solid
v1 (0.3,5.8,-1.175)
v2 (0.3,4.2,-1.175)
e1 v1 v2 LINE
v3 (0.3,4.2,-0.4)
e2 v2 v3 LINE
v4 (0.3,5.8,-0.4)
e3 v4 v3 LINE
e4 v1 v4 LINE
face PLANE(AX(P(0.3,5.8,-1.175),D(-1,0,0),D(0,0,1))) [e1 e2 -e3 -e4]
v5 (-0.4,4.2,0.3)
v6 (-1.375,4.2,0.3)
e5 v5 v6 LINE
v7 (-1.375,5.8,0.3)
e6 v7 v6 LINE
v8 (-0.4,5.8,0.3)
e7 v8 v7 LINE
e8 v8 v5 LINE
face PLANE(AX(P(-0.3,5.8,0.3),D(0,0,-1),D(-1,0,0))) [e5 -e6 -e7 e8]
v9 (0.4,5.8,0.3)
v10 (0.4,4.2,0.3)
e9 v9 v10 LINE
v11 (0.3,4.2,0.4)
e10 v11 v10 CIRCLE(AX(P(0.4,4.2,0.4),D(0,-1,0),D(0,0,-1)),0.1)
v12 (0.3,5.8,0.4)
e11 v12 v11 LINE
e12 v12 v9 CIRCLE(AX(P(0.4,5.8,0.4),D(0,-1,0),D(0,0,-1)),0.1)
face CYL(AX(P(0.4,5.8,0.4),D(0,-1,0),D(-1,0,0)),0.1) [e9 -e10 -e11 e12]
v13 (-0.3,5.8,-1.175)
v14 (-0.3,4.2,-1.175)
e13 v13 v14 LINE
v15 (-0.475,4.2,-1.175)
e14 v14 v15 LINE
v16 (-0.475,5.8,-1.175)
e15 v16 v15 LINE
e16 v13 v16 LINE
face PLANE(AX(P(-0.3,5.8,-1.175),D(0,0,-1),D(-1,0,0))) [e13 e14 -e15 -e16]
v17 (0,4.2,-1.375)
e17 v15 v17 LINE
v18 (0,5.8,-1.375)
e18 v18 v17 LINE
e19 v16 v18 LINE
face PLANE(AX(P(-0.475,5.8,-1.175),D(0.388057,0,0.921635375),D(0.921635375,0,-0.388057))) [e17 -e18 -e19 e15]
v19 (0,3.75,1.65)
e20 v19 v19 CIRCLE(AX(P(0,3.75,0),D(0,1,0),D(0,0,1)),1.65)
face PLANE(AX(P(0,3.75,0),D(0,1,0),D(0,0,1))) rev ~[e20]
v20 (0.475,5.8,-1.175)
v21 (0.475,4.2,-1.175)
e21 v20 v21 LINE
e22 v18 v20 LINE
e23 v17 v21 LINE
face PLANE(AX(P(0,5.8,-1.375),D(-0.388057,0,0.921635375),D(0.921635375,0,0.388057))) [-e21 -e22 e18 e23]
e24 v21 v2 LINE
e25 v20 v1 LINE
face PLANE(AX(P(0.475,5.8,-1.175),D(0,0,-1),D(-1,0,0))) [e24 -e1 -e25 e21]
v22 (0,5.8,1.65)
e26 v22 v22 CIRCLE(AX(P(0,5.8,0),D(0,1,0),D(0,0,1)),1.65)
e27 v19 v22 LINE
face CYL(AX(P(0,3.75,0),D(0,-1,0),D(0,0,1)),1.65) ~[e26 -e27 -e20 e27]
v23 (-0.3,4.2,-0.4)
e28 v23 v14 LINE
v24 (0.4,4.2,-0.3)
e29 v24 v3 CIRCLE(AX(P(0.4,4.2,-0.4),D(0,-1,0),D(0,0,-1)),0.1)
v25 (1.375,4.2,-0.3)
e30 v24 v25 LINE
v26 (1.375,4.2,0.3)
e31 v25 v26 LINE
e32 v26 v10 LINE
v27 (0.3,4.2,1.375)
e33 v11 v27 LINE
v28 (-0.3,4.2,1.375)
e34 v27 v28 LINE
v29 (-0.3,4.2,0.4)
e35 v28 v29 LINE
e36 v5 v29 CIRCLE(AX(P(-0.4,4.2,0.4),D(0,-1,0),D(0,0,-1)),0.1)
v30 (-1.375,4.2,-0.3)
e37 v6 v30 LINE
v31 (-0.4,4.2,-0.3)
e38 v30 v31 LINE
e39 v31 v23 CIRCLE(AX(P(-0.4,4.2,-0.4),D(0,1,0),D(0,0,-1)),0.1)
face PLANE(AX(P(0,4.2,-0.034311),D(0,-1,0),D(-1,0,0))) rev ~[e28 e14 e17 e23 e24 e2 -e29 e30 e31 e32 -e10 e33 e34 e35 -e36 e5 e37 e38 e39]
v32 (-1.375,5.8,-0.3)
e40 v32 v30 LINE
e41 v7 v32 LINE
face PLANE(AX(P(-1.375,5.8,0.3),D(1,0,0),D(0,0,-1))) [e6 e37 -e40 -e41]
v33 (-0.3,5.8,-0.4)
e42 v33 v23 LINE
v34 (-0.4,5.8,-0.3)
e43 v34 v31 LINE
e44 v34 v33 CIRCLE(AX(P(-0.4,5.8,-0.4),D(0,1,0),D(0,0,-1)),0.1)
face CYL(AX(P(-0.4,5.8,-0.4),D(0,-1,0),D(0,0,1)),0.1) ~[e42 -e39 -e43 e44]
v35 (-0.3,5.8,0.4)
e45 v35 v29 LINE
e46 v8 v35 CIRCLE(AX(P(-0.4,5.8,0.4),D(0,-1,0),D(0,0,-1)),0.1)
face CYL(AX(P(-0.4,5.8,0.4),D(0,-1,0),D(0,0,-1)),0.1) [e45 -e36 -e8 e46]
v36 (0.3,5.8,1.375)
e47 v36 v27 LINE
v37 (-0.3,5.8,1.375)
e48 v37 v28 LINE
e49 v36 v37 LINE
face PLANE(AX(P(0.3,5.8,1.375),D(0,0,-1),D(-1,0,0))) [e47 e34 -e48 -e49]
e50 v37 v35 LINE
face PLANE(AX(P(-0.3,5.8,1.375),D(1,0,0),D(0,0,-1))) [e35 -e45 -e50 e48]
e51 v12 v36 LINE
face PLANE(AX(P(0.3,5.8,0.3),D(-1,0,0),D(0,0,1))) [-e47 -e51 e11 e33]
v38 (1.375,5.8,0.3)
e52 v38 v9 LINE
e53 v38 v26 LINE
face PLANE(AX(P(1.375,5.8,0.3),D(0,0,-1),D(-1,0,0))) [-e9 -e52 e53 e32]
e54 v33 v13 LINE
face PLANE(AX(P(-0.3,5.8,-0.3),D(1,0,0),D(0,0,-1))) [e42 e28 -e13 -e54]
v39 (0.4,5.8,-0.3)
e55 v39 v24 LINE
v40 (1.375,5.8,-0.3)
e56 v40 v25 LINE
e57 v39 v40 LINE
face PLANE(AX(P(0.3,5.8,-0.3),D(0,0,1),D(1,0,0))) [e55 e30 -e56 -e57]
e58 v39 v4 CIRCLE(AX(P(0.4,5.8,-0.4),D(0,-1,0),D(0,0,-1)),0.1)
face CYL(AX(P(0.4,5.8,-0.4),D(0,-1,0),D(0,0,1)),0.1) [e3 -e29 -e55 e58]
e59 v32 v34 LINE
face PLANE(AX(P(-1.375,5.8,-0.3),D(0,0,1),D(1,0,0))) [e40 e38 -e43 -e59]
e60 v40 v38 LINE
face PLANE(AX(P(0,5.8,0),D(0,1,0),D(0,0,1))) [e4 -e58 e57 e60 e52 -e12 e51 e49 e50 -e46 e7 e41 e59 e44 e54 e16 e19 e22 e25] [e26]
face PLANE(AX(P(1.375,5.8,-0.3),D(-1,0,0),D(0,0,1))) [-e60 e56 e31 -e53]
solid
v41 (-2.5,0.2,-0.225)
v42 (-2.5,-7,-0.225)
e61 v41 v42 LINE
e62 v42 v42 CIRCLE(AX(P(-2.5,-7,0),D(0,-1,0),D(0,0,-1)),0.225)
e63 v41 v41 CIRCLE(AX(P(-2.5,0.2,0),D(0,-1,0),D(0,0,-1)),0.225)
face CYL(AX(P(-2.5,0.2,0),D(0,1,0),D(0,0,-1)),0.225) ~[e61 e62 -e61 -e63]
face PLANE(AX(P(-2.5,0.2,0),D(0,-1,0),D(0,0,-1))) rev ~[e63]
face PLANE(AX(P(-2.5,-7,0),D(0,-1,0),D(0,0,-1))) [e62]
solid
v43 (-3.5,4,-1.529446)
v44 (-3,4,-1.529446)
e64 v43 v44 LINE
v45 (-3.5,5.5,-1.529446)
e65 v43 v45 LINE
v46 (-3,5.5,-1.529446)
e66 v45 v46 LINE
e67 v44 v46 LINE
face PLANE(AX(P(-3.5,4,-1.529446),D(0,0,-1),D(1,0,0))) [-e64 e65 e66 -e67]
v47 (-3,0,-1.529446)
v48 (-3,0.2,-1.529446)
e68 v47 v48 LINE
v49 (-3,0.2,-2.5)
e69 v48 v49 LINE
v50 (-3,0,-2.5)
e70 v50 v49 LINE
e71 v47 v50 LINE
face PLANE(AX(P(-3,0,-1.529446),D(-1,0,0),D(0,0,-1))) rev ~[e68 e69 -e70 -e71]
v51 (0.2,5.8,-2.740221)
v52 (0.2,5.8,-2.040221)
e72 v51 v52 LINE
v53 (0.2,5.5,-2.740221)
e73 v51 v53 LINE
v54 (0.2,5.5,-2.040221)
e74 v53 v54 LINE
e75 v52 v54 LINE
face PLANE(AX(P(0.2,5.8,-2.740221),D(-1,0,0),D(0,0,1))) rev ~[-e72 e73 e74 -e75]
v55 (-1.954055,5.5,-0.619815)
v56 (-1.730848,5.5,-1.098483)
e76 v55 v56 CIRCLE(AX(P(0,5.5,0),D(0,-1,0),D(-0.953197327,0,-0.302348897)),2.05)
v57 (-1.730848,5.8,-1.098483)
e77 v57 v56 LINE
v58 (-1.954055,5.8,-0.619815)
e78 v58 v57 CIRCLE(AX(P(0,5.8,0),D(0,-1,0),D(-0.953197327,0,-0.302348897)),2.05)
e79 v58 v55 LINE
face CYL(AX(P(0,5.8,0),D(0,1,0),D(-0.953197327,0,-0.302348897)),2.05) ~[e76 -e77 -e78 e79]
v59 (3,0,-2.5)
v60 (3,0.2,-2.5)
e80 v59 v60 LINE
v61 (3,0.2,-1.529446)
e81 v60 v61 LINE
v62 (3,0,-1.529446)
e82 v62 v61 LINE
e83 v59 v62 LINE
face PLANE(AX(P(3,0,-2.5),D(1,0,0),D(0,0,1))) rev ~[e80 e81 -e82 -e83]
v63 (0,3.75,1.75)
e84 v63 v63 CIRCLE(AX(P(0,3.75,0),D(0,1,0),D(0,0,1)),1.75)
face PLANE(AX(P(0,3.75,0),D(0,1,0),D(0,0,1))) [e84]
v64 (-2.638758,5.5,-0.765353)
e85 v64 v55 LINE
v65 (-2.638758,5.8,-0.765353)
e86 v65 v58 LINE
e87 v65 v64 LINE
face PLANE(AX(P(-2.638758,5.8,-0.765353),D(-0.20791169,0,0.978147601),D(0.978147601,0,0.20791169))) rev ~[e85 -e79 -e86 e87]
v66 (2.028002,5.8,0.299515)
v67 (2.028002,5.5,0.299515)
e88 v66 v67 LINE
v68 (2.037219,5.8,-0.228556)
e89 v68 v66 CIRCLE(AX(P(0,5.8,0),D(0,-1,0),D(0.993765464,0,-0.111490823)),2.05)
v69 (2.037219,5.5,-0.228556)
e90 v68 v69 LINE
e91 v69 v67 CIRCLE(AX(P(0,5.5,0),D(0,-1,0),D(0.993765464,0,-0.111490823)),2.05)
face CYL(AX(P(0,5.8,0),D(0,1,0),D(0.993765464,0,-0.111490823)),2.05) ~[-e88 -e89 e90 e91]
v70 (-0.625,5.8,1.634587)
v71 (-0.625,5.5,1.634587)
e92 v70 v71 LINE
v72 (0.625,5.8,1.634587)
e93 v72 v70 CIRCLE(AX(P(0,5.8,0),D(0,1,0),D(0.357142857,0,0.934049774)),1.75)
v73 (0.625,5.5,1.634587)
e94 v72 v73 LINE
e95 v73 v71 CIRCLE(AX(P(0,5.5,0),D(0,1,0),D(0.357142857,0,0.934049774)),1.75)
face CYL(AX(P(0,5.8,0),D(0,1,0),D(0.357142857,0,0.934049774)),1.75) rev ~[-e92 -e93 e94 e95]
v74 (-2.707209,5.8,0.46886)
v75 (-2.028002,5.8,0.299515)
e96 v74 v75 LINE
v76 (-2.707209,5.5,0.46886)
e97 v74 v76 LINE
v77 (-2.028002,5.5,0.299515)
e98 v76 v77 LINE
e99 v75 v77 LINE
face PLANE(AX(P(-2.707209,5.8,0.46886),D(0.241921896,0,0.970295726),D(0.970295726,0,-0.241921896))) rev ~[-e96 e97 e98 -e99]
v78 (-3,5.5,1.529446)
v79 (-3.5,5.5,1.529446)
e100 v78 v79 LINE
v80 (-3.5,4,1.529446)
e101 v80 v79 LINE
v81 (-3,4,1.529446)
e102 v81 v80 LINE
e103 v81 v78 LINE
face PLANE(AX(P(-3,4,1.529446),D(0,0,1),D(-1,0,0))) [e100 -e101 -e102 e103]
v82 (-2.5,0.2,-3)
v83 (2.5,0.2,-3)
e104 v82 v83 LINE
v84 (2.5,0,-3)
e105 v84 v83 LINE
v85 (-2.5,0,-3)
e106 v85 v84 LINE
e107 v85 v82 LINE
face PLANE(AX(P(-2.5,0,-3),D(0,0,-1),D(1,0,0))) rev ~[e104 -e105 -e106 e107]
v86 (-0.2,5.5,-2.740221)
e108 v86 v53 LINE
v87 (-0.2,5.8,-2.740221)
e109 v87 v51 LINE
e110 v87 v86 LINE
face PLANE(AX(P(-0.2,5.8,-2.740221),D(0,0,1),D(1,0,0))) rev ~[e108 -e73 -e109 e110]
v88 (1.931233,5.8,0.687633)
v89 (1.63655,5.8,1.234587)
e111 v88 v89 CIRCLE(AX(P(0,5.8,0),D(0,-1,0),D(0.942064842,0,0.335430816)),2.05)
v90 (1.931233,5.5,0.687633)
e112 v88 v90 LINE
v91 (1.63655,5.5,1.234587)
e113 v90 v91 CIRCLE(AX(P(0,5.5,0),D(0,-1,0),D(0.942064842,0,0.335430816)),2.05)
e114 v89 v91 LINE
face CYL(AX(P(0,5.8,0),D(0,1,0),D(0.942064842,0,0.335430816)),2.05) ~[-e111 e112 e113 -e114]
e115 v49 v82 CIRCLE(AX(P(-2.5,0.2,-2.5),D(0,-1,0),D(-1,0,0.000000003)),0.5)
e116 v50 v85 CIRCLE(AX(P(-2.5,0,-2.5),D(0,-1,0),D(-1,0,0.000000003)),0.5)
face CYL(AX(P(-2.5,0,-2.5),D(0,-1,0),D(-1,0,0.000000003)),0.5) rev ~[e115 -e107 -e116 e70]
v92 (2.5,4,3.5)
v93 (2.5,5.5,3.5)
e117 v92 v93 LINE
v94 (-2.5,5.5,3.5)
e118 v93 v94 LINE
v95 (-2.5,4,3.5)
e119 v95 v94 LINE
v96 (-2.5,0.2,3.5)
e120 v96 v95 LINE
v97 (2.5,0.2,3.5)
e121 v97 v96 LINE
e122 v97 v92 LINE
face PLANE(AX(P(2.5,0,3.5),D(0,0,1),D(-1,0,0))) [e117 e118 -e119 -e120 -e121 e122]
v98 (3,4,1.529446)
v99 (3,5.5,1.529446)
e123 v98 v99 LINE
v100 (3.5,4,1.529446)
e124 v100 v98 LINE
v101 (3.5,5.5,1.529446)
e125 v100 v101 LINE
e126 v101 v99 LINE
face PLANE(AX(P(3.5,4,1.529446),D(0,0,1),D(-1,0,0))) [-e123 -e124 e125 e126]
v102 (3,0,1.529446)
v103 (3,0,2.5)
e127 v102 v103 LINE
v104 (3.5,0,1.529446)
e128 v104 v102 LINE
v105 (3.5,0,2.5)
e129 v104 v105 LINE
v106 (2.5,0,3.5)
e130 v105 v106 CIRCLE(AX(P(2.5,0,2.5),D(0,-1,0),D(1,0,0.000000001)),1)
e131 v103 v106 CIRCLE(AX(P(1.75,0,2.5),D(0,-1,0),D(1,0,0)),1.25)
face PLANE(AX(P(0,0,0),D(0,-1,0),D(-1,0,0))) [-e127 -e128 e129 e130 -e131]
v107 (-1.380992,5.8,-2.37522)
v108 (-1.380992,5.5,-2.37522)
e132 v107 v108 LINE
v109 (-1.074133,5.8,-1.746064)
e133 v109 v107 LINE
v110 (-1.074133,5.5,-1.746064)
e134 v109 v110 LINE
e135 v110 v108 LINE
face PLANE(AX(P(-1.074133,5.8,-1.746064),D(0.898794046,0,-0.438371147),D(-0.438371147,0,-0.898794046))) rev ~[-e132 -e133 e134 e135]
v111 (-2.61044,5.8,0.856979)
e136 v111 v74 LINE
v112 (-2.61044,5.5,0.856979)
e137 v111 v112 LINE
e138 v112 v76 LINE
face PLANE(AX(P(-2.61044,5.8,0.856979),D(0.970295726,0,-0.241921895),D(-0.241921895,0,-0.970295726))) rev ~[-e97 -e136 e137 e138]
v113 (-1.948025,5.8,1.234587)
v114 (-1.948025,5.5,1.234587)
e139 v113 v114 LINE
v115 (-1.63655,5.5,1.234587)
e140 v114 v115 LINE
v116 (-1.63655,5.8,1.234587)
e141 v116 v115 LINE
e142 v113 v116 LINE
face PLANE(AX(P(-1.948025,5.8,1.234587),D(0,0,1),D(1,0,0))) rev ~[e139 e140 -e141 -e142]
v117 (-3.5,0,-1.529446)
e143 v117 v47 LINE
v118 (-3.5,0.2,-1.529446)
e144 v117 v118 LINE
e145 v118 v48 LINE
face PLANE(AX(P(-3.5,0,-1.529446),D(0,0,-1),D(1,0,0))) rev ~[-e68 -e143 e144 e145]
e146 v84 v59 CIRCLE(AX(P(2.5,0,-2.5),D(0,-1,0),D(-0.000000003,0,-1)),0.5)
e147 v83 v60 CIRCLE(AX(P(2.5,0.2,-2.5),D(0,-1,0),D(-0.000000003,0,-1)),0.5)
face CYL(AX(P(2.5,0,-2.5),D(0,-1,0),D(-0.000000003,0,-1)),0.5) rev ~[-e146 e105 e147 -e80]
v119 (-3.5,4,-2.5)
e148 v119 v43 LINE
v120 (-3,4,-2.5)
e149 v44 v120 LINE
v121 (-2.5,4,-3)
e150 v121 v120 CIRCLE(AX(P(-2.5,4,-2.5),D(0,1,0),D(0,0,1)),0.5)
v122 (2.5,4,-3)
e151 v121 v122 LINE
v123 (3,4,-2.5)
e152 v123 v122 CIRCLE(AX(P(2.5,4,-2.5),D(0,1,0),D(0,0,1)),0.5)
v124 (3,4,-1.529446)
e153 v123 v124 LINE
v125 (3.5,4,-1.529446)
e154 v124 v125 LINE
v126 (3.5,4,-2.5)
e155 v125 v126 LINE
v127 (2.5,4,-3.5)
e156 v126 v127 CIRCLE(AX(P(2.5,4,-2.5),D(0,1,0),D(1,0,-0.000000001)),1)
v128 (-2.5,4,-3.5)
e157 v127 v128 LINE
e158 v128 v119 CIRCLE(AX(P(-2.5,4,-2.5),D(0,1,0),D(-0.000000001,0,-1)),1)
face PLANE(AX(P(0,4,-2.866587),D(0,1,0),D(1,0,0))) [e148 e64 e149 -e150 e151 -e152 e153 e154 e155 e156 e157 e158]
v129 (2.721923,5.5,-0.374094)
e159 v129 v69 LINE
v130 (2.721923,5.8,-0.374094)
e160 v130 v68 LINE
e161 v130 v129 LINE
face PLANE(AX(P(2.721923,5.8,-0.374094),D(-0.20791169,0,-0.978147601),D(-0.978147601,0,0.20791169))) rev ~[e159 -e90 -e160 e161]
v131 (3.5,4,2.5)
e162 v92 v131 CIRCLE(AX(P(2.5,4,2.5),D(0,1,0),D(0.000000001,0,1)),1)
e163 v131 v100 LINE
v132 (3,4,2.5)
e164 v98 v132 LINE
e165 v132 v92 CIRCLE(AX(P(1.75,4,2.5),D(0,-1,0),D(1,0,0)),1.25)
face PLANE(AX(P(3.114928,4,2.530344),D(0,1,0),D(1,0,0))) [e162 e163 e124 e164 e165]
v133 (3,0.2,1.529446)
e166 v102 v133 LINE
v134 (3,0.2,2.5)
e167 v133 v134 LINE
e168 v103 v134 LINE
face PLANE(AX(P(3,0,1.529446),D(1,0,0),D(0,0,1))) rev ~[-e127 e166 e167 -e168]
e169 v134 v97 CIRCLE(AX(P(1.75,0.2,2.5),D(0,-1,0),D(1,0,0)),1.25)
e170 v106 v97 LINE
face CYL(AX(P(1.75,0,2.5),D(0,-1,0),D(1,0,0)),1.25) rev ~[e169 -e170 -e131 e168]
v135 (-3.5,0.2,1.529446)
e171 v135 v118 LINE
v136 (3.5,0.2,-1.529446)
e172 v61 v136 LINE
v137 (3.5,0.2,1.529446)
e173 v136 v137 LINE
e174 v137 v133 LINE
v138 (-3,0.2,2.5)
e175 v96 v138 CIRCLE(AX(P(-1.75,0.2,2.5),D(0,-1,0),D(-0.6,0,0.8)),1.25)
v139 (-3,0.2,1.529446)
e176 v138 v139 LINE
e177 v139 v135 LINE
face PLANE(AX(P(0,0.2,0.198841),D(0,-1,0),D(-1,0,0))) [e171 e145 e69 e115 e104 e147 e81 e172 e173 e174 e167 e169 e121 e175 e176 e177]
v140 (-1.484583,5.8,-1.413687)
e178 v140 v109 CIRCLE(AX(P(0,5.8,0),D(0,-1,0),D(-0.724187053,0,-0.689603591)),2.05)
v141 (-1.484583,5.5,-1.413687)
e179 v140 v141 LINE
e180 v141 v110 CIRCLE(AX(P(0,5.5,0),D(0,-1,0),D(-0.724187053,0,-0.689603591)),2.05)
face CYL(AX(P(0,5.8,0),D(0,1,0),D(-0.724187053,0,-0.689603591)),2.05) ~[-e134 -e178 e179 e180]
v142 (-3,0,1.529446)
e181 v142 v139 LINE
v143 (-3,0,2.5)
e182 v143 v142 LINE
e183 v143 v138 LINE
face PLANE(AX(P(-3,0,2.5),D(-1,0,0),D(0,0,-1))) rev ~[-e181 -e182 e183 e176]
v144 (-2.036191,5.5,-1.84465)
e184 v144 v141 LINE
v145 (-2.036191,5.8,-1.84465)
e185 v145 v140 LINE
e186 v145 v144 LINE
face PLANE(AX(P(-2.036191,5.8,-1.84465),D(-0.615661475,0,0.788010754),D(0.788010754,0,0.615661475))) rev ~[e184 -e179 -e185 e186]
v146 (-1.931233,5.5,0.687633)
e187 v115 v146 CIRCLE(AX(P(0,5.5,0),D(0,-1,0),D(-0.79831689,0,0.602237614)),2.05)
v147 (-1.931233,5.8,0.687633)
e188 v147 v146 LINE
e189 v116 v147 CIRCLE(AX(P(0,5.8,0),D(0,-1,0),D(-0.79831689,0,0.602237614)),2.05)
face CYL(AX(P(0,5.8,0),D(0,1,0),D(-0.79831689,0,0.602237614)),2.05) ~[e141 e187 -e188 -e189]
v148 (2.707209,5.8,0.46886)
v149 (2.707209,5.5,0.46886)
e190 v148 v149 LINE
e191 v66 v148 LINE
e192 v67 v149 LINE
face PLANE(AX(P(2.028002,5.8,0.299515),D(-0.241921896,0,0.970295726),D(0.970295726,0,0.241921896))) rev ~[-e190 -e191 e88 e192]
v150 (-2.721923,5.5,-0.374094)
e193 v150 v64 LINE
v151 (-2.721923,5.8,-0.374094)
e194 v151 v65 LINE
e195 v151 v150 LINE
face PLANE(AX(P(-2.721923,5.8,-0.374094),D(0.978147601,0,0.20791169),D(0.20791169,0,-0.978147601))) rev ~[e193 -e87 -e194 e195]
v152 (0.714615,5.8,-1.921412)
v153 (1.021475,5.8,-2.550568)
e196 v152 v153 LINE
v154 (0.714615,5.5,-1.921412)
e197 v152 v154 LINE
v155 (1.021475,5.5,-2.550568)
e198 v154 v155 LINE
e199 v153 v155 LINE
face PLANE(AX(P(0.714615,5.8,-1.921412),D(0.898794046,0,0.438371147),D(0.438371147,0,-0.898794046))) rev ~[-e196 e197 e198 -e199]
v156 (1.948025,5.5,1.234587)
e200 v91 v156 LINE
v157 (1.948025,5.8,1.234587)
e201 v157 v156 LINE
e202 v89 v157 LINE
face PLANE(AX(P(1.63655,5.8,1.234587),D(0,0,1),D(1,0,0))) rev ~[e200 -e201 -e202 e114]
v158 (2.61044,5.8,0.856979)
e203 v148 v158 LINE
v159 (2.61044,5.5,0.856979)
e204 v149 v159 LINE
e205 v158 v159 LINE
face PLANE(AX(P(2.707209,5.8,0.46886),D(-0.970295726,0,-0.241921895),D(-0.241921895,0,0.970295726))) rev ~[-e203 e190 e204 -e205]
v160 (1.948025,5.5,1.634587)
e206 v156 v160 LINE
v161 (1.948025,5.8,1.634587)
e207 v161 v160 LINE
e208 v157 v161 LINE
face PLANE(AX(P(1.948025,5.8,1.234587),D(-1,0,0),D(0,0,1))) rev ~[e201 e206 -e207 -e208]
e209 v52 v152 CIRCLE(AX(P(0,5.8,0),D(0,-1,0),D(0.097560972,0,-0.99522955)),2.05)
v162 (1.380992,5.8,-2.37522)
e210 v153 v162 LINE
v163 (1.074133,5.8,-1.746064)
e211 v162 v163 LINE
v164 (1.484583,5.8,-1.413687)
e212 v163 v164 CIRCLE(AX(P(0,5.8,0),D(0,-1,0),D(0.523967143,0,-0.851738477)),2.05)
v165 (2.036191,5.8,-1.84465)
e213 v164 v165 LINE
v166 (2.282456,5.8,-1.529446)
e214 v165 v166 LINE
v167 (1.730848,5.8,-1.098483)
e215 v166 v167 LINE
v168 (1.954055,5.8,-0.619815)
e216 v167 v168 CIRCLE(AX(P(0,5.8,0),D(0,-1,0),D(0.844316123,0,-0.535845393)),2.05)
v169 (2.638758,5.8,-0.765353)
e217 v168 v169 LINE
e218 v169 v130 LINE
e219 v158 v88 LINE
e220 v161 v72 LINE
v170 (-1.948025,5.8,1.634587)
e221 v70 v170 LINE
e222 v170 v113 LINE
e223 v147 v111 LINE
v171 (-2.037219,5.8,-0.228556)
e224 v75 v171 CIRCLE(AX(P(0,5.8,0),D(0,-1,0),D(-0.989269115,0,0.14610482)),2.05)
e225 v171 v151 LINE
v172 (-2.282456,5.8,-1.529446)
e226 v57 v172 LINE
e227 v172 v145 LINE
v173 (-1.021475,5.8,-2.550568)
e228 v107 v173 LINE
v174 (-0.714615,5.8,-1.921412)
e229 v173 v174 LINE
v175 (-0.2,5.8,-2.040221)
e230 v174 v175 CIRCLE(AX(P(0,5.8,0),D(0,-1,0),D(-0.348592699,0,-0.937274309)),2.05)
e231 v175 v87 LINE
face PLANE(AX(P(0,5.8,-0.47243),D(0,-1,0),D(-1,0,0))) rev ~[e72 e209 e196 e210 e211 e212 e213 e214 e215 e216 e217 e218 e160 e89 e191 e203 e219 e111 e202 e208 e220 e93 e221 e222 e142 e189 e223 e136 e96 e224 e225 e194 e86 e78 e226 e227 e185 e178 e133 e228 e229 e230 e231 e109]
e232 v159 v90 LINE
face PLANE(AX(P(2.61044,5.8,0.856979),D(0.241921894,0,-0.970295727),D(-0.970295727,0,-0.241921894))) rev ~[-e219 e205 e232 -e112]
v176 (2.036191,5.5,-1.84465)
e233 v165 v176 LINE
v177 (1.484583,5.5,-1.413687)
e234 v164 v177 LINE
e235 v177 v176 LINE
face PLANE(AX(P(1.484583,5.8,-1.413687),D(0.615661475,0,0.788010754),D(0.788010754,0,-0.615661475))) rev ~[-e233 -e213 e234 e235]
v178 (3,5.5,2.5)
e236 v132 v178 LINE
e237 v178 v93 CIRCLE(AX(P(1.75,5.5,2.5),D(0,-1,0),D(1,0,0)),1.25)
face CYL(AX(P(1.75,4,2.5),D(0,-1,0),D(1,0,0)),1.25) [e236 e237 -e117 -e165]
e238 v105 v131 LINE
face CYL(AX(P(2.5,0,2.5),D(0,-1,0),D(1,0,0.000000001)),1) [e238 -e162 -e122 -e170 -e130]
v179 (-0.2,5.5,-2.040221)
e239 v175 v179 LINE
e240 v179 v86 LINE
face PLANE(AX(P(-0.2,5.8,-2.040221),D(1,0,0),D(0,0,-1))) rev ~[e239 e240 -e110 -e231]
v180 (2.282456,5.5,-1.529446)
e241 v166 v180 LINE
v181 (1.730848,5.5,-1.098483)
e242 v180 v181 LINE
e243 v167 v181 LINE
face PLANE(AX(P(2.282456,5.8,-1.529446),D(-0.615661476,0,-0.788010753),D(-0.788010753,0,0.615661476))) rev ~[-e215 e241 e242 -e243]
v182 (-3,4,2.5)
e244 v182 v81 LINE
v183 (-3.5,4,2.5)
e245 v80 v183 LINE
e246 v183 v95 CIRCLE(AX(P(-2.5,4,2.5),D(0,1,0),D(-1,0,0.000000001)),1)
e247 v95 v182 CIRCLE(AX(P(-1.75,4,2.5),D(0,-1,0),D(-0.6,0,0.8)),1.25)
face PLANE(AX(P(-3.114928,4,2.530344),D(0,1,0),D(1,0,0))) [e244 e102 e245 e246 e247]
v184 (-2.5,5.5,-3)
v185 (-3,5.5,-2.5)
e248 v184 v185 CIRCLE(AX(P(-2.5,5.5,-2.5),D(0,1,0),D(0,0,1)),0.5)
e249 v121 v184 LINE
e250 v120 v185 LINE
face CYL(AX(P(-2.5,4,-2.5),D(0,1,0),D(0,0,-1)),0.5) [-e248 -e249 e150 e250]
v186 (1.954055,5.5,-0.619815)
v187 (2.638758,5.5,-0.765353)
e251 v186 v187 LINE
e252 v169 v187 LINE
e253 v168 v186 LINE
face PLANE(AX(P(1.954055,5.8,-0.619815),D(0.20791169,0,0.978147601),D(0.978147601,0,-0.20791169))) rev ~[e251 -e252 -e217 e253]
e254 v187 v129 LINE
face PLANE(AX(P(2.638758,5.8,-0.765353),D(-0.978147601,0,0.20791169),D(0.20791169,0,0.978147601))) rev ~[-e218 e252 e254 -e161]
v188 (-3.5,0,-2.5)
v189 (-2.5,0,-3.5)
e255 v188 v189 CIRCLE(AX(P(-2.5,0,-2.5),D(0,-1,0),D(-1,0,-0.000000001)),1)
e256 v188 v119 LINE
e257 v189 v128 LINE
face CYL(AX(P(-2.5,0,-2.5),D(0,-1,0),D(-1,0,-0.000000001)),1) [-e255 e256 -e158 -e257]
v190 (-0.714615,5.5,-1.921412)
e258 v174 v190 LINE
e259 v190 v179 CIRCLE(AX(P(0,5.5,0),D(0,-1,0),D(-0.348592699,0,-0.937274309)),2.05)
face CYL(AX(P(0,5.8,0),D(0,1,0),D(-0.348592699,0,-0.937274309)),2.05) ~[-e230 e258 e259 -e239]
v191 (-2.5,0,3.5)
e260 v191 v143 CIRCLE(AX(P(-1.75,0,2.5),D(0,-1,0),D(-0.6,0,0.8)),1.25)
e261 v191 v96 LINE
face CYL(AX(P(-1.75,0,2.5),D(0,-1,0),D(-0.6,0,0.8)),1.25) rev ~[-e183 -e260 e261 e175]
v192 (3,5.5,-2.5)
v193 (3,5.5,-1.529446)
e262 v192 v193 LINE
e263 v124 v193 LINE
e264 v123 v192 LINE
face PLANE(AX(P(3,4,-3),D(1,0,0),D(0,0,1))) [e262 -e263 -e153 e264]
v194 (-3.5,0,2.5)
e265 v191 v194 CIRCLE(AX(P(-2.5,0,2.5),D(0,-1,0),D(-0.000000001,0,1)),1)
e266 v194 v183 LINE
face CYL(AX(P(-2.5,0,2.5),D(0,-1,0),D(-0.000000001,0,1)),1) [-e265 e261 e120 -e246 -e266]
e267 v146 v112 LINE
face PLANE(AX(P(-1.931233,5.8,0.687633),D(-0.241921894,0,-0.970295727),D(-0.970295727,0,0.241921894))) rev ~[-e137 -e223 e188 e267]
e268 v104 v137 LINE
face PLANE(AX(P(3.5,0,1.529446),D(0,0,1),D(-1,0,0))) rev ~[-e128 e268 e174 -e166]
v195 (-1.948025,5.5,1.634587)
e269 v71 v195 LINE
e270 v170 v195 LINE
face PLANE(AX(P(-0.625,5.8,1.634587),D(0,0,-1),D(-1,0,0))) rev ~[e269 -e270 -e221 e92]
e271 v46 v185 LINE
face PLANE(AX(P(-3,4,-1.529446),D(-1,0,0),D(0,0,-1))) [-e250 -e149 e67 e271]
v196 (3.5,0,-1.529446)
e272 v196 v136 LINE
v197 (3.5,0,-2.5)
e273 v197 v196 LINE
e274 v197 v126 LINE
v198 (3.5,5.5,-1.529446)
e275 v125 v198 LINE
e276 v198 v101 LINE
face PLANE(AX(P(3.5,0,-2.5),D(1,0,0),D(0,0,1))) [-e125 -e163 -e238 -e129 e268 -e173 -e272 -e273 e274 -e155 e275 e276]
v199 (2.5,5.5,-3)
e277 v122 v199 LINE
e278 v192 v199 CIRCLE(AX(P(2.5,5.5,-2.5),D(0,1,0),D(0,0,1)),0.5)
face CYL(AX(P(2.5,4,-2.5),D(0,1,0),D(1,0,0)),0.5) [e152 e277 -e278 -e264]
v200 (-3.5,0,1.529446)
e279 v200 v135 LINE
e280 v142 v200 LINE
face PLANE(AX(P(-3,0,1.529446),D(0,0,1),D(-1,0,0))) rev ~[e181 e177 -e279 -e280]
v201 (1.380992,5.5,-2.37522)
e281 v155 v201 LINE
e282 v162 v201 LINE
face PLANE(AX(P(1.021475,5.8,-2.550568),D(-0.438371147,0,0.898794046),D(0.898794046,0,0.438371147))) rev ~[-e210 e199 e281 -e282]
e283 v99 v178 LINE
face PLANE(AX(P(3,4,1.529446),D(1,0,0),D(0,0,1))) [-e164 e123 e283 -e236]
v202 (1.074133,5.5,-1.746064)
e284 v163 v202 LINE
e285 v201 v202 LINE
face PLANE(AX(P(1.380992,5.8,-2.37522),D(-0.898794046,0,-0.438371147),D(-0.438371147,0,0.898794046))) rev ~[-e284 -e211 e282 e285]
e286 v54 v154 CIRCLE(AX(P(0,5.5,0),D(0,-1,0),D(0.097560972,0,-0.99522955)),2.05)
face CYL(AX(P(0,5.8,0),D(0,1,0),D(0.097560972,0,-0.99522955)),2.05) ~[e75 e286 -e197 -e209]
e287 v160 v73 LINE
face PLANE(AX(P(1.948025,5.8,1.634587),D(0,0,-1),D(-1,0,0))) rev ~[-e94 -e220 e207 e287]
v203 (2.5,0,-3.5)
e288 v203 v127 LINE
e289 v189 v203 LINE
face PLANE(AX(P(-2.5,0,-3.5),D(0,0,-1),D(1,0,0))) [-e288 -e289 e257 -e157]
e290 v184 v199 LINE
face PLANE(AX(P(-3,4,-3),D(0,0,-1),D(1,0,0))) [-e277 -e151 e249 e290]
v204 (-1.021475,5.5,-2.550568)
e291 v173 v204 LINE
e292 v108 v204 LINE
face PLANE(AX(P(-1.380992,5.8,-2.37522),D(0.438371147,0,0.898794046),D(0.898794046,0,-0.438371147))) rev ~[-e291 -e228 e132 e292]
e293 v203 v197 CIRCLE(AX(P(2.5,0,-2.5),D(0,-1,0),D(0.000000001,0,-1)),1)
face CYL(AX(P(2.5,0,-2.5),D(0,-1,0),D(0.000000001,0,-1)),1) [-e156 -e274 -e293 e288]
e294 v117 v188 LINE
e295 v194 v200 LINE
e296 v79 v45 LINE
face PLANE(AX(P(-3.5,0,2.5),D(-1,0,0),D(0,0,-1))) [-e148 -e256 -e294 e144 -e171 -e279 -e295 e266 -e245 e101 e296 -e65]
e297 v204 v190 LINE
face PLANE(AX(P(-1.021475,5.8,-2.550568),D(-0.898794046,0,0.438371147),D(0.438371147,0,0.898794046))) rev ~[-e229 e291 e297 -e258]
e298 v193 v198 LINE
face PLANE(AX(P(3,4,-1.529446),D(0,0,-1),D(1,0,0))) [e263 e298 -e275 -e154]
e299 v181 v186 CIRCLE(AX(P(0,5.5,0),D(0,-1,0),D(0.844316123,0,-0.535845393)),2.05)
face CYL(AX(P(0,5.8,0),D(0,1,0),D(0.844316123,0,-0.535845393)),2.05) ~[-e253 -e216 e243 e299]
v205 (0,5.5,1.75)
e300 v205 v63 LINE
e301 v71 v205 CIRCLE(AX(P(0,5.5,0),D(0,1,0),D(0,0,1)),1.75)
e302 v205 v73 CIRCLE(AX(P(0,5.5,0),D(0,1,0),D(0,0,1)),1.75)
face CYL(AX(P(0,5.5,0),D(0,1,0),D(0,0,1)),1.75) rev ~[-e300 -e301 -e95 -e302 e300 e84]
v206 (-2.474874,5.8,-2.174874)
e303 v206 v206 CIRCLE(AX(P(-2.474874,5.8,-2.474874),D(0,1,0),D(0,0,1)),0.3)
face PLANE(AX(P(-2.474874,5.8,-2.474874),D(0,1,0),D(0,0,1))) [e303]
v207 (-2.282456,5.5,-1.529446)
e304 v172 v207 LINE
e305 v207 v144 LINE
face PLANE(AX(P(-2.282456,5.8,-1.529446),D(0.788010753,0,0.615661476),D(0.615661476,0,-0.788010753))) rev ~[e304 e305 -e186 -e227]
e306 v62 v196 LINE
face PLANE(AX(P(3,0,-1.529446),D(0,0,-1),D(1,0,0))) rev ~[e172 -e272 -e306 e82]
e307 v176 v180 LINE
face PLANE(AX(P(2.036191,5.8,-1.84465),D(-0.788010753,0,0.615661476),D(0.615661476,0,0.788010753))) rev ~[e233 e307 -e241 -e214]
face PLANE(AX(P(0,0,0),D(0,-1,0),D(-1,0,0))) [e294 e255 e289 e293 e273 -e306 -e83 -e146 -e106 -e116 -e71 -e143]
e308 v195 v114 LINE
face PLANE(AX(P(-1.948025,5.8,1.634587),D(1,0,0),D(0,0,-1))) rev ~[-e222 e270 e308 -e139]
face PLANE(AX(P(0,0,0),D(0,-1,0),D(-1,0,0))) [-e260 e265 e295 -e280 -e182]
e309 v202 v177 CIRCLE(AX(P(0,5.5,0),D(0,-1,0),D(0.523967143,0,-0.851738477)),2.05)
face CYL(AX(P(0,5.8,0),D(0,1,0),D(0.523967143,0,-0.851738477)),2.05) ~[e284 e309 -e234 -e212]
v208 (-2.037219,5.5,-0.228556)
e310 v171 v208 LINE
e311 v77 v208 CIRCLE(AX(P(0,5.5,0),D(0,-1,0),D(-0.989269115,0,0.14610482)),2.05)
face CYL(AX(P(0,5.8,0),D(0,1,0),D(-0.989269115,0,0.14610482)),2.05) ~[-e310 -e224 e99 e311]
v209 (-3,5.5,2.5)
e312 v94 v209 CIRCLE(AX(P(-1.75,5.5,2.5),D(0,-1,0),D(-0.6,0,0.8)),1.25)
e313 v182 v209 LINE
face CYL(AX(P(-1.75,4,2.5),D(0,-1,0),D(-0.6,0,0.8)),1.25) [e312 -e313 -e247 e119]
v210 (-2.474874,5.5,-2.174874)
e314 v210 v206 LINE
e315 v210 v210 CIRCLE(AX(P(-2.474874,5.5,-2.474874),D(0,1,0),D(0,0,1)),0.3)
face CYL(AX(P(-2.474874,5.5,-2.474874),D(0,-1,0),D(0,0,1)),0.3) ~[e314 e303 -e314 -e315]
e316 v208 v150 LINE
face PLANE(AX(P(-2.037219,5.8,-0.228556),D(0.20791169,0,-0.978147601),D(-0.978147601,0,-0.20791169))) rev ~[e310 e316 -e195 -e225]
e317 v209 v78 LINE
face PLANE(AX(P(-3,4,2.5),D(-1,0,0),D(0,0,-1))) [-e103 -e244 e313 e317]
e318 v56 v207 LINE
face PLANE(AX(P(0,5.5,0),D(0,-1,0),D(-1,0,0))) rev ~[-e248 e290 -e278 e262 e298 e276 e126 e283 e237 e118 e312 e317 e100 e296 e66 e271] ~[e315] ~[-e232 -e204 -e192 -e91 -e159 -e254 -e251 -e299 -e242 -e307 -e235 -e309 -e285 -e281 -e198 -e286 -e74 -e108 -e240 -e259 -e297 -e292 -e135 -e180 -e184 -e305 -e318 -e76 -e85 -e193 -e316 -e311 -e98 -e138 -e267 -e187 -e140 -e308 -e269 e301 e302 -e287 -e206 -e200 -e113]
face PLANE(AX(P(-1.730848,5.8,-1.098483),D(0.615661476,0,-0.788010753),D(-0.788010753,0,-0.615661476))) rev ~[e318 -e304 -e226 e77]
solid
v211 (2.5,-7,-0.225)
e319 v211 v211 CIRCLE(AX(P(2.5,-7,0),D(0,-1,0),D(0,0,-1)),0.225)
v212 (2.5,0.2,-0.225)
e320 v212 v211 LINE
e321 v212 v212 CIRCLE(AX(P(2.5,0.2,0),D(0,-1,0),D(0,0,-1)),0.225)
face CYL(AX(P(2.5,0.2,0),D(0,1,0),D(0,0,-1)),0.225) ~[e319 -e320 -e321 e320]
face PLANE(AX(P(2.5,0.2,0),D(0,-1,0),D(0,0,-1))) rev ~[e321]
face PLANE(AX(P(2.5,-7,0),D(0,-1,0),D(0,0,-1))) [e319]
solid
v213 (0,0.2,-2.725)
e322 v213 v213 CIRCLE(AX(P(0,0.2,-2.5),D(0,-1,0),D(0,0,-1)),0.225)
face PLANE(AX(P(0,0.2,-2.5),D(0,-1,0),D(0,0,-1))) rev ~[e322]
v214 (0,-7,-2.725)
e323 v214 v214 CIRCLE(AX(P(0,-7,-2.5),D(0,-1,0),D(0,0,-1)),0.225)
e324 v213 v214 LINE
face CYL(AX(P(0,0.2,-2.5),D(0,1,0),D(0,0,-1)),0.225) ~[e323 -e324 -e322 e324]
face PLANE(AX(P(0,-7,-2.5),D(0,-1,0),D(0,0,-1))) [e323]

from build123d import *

# Parameters (mm, degrees)
BOSS_EXTRUDE1_DEPTH   = 5.5
SKETCH3_R             = 1.75
CUT_EXTRUDE1_DEPTH    = 1.75
SKETCH4_R             = 1.65
BOSS_EXTRUDE2_DEPTH   = 2.05
CUT_EXTRUDE2_DEPTH    = 1.6
FILLET1_R             = 0.1
BOSS_EXTRUDE3_START   = 0.3
BOSS_EXTRUDE3_DEPTH   = 0.3
SKETCH7_R             = 0.3
BOSS_EXTRUDE4_DEPTH   = 0.3
CUT_EXTRUDE3_START    = -1.5
CUT_EXTRUDE3_DEPTH    = 1.5
FILLET2_R             = 0.5
CUT_EXTRUDE7_DEPTH    = 0.2
SKETCH11_R            = 0.225
BOSS_EXTRUDE6_DEPTH   = 7.2
BOSS_EXTRUDE6_2_DEPTH = 7.2
BOSS_EXTRUDE6_3_DEPTH = 7.2


with BuildPart() as part:
    # Sketch1 → Boss-Extrude1 (new body)
    with BuildSketch(Plane(origin=(0, 0, 0), x_dir=(1, 0, 0), z_dir=(0, 1, 0))):
        with BuildLine():
            Line((2.5, -3.5), (-2.5, -3.5))
            ThreePointArc((-2.5, -3.5), (-3.207106781, -3.207106781), (-3.5, -2.5))
            Line((-3.5, -2.5), (-3.5, 2.5))
            ThreePointArc((-3.5, 2.5), (-3.207106781, 3.207106781), (-2.5, 3.5))
            Line((-2.5, 3.5), (2.5, 3.5))
            ThreePointArc((2.5, 3.5), (3.207106781, 3.207106781), (3.5, 2.5))
            Line((3.5, 2.5), (3.5, -2.5))
            ThreePointArc((3.5, -2.5), (3.207106781, -3.207106781), (2.5, -3.5))
        make_face()
    extrude(amount=BOSS_EXTRUDE1_DEPTH)

    # Sketch3 → Cut-Extrude1 (cut)
    with BuildSketch(Plane(origin=(0, 5.5, 0), x_dir=(1, 0, 0), z_dir=(0, 1, 0))):
        with Locations(Location((0, 0, 0), (0, 0, 270))):
            Circle(SKETCH3_R)
    extrude(amount=-CUT_EXTRUDE1_DEPTH, mode=Mode.SUBTRACT)

    # Sketch6 → Boss-Extrude3 (add)
    with BuildSketch(Plane(origin=(0, 5.5, 0), x_dir=(1, 0, 0), z_dir=(0, 1, 0)).offset(BOSS_EXTRUDE3_START)):
        with BuildLine():
            Line((-0.625, -1.634587104), (-1.948025053, -1.634587104))
            Line((-1.948025053, -1.634587104), (-1.948025053, -1.234587104))
            Line((-1.948025053, -1.234587104), (-1.636549627, -1.234587104))
            ThreePointArc((-1.636549627, -1.234587104), (-1.804732041, -0.972338553), (-1.931232927, -0.687633175))
            Line((-1.931232927, -0.687633175), (-2.610439935, -0.856978501))
            Line((-2.610439935, -0.856978501), (-2.707208693, -0.468860211))
            Line((-2.707208693, -0.468860211), (-2.028001685, -0.299514884))
            ThreePointArc((-2.028001685, -0.299514884), (-2.049687775, -0.035777433), (-2.0372192, 0.22855619))
            Line((-2.0372192, 0.22855619), (-2.72192252, 0.374094373))
            Line((-2.72192252, 0.374094373), (-2.638757844, 0.765353413))
            Line((-2.638757844, 0.765353413), (-1.954054524, 0.61981523))
            ThreePointArc((-1.954054524, 0.61981523), (-1.857930963, 0.866367437), (-1.730848049, 1.098483059))
            Line((-1.730848049, 1.098483059), (-2.282455576, 1.529446092))
            Line((-2.282455576, 1.529446092), (-2.036190986, 1.844650393))
            Line((-2.036190986, 1.844650393), (-1.484583459, 1.413687361))
            ThreePointArc((-1.484583459, 1.413687361), (-1.290106802, 1.593149221), (-1.074132643, 1.746063878))
            Line((-1.074132643, 1.746063878), (-1.380992446, 2.37521971))
            Line((-1.380992446, 2.37521971), (-1.021474827, 2.550568169))
            Line((-1.021474827, 2.550568169), (-0.714615024, 1.921412336))
            ThreePointArc((-0.714615024, 1.921412336), (-0.461149661, 1.997458633), (-0.2, 2.040220576))
            Line((-0.2, 2.040220576), (-0.2, 2.740220576))
            Line((-0.2, 2.740220576), (0.2, 2.740220576))
            Line((0.2, 2.740220576), (0.2, 2.040220576))
            ThreePointArc((0.2, 2.040220576), (0.461149661, 1.997458633), (0.714615024, 1.921412336))
            Line((0.714615024, 1.921412336), (1.021474827, 2.550568169))
            Line((1.021474827, 2.550568169), (1.380992446, 2.37521971))
            Line((1.380992446, 2.37521971), (1.074132643, 1.746063878))
            ThreePointArc((1.074132643, 1.746063878), (1.290106802, 1.593149221), (1.484583459, 1.413687361))
            Line((1.484583459, 1.413687361), (2.036190986, 1.844650393))
            Line((2.036190986, 1.844650393), (2.282455576, 1.529446092))
            Line((2.282455576, 1.529446092), (1.730848049, 1.098483059))
            ThreePointArc((1.730848049, 1.098483059), (1.857930963, 0.866367437), (1.954054524, 0.61981523))
            Line((1.954054524, 0.61981523), (2.638757844, 0.765353413))
            Line((2.638757844, 0.765353413), (2.72192252, 0.374094373))
            Line((2.72192252, 0.374094373), (2.0372192, 0.22855619))
            ThreePointArc((2.0372192, 0.22855619), (2.049687775, -0.035777433), (2.028001685, -0.299514884))
            Line((2.028001685, -0.299514884), (2.707208693, -0.468860211))
            Line((2.707208693, -0.468860211), (2.610439935, -0.856978501))
            Line((2.610439935, -0.856978501), (1.931232927, -0.687633175))
            ThreePointArc((1.931232927, -0.687633175), (1.804732041, -0.972338553), (1.636549627, -1.234587104))
            Line((1.636549627, -1.234587104), (1.948025053, -1.234587104))
            Line((1.948025053, -1.234587104), (1.948025053, -1.634587104))
            Line((1.948025053, -1.634587104), (0.625, -1.634587104))
            ThreePointArc((0.625, -1.634587104), (0, 1.75), (-0.625, -1.634587104))
        make_face()
    extrude(amount=-BOSS_EXTRUDE3_DEPTH)

    # Sketch7 → Boss-Extrude4 (add)
    with BuildSketch(Plane(origin=(0, 5.5, 0), x_dir=(1, 0, 0), z_dir=(0, 1, 0))):
        with Locations(Location((-2.474873734, 2.474873734, 0), (0, 0, 270))):
            Circle(SKETCH7_R)
    extrude(amount=BOSS_EXTRUDE4_DEPTH)

    # Sketch2 → Cut-Extrude3 (cut)
    with BuildSketch(Plane(origin=(0, 5.5, 0), x_dir=(1, 0, 0), z_dir=(0, 1, 0)).offset(CUT_EXTRUDE3_START)):
        with BuildLine():
            ThreePointArc((-3.5, -2.5), (-3.207106781, -3.207106781), (-2.5, -3.5))
            ThreePointArc((-2.5, -3.5), (-2.868033989, -3.059016994), (-3, -2.5))
            Line((-3, -2.5), (-3, -1.529446092))
            Line((-3, -1.529446092), (-3.5, -1.529446092))
            Line((-3.5, -1.529446092), (-3.5, -2.5))
        make_face()
        with BuildLine():
            ThreePointArc((2.5, -3.5), (3.207106781, -3.207106781), (3.5, -2.5))
            Line((3.5, -2.5), (3.5, -1.529446092))
            Line((3.5, -1.529446092), (3, -1.529446092))
            Line((3, -1.529446092), (3, -2.5))
            ThreePointArc((3, -2.5), (2.868033989, -3.059016994), (2.5, -3.5))
        make_face()
        with BuildLine():
            Line((3, 1.529446092), (3.5, 1.529446092))
            Line((3.5, 1.529446092), (3.5, 2.5))
            ThreePointArc((3.5, 2.5), (3.207106781, 3.207106781), (2.5, 3.5))
            Line((2.5, 3.5), (-2.5, 3.5))
            ThreePointArc((-2.5, 3.5), (-3.207106781, 3.207106781), (-3.5, 2.5))
            Line((-3.5, 2.5), (-3.5, 1.529446092))
            Line((-3.5, 1.529446092), (-3, 1.529446092))
            Line((-3, 1.529446092), (-3, 3))
            Line((-3, 3), (3, 3))
            Line((3, 3), (3, 1.529446092))
        make_face()
    extrude(amount=CUT_EXTRUDE3_DEPTH, mode=Mode.SUBTRACT)

    # Fillet2
    fillet2_edges = [part.edges().sort_by_distance(p)[0] for p in [
        (3, 4.75, -3),
        (-3, 4.75, -3),
    ]]
    fillet(fillet2_edges, radius=FILLET2_R)

    # Sketch10 → Cut-Extrude7 (cut)
    with BuildSketch(Plane(origin=(0, 0, 0), x_dir=(1, 0, 0), z_dir=(0, 1, 0))):
        with BuildLine():
            Line((3, 2.5), (3, 1.529446092))
            Line((3, 1.529446092), (3.5, 1.529446092))
            Line((3.5, 1.529446092), (3.5, -1.529446092))
            Line((3.5, -1.529446092), (3, -1.529446092))
            Line((3, -1.529446092), (3, -2.5))
            ThreePointArc((3, -2.5), (2.868033989, -3.059016994), (2.5, -3.5))
            Line((2.5, -3.5), (-2.5, -3.5))
            ThreePointArc((-2.5, -3.5), (-2.868033989, -3.059016994), (-3, -2.5))
            Line((-3, -2.5), (-3, -1.529446092))
            Line((-3, -1.529446092), (-3.5, -1.529446092))
            Line((-3.5, -1.529446092), (-3.5, 1.529446092))
            Line((-3.5, 1.529446092), (-3, 1.529446092))
            Line((-3, 1.529446092), (-3, 2.5))
            ThreePointArc((-3, 2.5), (-2.853553391, 2.853553391), (-2.5, 3))
            Line((-2.5, 3), (2.5, 3))
            ThreePointArc((2.5, 3), (2.853553391, 2.853553391), (3, 2.5))
        make_face()
    extrude(amount=CUT_EXTRUDE7_DEPTH, mode=Mode.SUBTRACT)


with BuildPart() as body_2:
    # Sketch4 → Boss-Extrude2 (new body)
    with BuildSketch(Plane(origin=(0, 3.75, 0), x_dir=(1, 0, 0), z_dir=(0, 1, 0))):
        with Locations(Location((0, 0, 0), (0, 0, 270))):
            Circle(SKETCH4_R)
    extrude(amount=BOSS_EXTRUDE2_DEPTH)

    # Sketch5 → Cut-Extrude2 (cut)
    with BuildSketch(Plane(origin=(0, 5.8, 0), x_dir=(1, 0, 0), z_dir=(0, 1, 0))):
        Polygon((-0.3, 0.3), (-0.3, 1.175), (-0.475, 1.175), (0, 1.375), (0.475, 1.175), (0.3, 1.175), (0.3, 0.3), (1.375, 0.3), (1.375, -0.3), (0.3, -0.3), (0.3, -1.375), (-0.3, -1.375), (-0.3, -0.3), (-1.375, -0.3), (-1.375, 0.3), align=None)
    extrude(amount=-CUT_EXTRUDE2_DEPTH, mode=Mode.SUBTRACT)

    # Fillet1
    fillet1_edges = [body_2.edges().sort_by_distance(p)[0] for p in [
        (-0.3, 5, -0.3),
        (0.3, 5, -0.3),
        (0.3, 5, 0.3),
        (-0.3, 5, 0.3),
    ]]
    fillet(fillet1_edges, radius=FILLET1_R)


with BuildPart() as body_3:
    # Sketch11 → Boss-Extrude6 (new body)
    with BuildSketch(Plane.XZ.offset(-0.2)):
        with Locations(Location((2.5, 0, 0), (0, 0, 270))):
            Circle(SKETCH11_R)
    extrude(amount=BOSS_EXTRUDE6_DEPTH)


with BuildPart() as body_4:
    # Sketch11 → Boss-Extrude6 2 (new body)
    with BuildSketch(Plane.XZ.offset(-0.2)):
        with Locations(Location((0, -2.5, 0), (0, 0, 270))):
            Circle(SKETCH11_R)
    extrude(amount=BOSS_EXTRUDE6_2_DEPTH)


with BuildPart() as body_5:
    # Sketch11 → Boss-Extrude6 3 (new body)
    with BuildSketch(Plane.XZ.offset(-0.2)):
        with Locations(Location((-2.5, 0, 0), (0, 0, 270))):
            Circle(SKETCH11_R)
    extrude(amount=BOSS_EXTRUDE6_3_DEPTH)


solid = Compound([part.part, body_2.part, body_3.part, body_4.part, body_5.part])
